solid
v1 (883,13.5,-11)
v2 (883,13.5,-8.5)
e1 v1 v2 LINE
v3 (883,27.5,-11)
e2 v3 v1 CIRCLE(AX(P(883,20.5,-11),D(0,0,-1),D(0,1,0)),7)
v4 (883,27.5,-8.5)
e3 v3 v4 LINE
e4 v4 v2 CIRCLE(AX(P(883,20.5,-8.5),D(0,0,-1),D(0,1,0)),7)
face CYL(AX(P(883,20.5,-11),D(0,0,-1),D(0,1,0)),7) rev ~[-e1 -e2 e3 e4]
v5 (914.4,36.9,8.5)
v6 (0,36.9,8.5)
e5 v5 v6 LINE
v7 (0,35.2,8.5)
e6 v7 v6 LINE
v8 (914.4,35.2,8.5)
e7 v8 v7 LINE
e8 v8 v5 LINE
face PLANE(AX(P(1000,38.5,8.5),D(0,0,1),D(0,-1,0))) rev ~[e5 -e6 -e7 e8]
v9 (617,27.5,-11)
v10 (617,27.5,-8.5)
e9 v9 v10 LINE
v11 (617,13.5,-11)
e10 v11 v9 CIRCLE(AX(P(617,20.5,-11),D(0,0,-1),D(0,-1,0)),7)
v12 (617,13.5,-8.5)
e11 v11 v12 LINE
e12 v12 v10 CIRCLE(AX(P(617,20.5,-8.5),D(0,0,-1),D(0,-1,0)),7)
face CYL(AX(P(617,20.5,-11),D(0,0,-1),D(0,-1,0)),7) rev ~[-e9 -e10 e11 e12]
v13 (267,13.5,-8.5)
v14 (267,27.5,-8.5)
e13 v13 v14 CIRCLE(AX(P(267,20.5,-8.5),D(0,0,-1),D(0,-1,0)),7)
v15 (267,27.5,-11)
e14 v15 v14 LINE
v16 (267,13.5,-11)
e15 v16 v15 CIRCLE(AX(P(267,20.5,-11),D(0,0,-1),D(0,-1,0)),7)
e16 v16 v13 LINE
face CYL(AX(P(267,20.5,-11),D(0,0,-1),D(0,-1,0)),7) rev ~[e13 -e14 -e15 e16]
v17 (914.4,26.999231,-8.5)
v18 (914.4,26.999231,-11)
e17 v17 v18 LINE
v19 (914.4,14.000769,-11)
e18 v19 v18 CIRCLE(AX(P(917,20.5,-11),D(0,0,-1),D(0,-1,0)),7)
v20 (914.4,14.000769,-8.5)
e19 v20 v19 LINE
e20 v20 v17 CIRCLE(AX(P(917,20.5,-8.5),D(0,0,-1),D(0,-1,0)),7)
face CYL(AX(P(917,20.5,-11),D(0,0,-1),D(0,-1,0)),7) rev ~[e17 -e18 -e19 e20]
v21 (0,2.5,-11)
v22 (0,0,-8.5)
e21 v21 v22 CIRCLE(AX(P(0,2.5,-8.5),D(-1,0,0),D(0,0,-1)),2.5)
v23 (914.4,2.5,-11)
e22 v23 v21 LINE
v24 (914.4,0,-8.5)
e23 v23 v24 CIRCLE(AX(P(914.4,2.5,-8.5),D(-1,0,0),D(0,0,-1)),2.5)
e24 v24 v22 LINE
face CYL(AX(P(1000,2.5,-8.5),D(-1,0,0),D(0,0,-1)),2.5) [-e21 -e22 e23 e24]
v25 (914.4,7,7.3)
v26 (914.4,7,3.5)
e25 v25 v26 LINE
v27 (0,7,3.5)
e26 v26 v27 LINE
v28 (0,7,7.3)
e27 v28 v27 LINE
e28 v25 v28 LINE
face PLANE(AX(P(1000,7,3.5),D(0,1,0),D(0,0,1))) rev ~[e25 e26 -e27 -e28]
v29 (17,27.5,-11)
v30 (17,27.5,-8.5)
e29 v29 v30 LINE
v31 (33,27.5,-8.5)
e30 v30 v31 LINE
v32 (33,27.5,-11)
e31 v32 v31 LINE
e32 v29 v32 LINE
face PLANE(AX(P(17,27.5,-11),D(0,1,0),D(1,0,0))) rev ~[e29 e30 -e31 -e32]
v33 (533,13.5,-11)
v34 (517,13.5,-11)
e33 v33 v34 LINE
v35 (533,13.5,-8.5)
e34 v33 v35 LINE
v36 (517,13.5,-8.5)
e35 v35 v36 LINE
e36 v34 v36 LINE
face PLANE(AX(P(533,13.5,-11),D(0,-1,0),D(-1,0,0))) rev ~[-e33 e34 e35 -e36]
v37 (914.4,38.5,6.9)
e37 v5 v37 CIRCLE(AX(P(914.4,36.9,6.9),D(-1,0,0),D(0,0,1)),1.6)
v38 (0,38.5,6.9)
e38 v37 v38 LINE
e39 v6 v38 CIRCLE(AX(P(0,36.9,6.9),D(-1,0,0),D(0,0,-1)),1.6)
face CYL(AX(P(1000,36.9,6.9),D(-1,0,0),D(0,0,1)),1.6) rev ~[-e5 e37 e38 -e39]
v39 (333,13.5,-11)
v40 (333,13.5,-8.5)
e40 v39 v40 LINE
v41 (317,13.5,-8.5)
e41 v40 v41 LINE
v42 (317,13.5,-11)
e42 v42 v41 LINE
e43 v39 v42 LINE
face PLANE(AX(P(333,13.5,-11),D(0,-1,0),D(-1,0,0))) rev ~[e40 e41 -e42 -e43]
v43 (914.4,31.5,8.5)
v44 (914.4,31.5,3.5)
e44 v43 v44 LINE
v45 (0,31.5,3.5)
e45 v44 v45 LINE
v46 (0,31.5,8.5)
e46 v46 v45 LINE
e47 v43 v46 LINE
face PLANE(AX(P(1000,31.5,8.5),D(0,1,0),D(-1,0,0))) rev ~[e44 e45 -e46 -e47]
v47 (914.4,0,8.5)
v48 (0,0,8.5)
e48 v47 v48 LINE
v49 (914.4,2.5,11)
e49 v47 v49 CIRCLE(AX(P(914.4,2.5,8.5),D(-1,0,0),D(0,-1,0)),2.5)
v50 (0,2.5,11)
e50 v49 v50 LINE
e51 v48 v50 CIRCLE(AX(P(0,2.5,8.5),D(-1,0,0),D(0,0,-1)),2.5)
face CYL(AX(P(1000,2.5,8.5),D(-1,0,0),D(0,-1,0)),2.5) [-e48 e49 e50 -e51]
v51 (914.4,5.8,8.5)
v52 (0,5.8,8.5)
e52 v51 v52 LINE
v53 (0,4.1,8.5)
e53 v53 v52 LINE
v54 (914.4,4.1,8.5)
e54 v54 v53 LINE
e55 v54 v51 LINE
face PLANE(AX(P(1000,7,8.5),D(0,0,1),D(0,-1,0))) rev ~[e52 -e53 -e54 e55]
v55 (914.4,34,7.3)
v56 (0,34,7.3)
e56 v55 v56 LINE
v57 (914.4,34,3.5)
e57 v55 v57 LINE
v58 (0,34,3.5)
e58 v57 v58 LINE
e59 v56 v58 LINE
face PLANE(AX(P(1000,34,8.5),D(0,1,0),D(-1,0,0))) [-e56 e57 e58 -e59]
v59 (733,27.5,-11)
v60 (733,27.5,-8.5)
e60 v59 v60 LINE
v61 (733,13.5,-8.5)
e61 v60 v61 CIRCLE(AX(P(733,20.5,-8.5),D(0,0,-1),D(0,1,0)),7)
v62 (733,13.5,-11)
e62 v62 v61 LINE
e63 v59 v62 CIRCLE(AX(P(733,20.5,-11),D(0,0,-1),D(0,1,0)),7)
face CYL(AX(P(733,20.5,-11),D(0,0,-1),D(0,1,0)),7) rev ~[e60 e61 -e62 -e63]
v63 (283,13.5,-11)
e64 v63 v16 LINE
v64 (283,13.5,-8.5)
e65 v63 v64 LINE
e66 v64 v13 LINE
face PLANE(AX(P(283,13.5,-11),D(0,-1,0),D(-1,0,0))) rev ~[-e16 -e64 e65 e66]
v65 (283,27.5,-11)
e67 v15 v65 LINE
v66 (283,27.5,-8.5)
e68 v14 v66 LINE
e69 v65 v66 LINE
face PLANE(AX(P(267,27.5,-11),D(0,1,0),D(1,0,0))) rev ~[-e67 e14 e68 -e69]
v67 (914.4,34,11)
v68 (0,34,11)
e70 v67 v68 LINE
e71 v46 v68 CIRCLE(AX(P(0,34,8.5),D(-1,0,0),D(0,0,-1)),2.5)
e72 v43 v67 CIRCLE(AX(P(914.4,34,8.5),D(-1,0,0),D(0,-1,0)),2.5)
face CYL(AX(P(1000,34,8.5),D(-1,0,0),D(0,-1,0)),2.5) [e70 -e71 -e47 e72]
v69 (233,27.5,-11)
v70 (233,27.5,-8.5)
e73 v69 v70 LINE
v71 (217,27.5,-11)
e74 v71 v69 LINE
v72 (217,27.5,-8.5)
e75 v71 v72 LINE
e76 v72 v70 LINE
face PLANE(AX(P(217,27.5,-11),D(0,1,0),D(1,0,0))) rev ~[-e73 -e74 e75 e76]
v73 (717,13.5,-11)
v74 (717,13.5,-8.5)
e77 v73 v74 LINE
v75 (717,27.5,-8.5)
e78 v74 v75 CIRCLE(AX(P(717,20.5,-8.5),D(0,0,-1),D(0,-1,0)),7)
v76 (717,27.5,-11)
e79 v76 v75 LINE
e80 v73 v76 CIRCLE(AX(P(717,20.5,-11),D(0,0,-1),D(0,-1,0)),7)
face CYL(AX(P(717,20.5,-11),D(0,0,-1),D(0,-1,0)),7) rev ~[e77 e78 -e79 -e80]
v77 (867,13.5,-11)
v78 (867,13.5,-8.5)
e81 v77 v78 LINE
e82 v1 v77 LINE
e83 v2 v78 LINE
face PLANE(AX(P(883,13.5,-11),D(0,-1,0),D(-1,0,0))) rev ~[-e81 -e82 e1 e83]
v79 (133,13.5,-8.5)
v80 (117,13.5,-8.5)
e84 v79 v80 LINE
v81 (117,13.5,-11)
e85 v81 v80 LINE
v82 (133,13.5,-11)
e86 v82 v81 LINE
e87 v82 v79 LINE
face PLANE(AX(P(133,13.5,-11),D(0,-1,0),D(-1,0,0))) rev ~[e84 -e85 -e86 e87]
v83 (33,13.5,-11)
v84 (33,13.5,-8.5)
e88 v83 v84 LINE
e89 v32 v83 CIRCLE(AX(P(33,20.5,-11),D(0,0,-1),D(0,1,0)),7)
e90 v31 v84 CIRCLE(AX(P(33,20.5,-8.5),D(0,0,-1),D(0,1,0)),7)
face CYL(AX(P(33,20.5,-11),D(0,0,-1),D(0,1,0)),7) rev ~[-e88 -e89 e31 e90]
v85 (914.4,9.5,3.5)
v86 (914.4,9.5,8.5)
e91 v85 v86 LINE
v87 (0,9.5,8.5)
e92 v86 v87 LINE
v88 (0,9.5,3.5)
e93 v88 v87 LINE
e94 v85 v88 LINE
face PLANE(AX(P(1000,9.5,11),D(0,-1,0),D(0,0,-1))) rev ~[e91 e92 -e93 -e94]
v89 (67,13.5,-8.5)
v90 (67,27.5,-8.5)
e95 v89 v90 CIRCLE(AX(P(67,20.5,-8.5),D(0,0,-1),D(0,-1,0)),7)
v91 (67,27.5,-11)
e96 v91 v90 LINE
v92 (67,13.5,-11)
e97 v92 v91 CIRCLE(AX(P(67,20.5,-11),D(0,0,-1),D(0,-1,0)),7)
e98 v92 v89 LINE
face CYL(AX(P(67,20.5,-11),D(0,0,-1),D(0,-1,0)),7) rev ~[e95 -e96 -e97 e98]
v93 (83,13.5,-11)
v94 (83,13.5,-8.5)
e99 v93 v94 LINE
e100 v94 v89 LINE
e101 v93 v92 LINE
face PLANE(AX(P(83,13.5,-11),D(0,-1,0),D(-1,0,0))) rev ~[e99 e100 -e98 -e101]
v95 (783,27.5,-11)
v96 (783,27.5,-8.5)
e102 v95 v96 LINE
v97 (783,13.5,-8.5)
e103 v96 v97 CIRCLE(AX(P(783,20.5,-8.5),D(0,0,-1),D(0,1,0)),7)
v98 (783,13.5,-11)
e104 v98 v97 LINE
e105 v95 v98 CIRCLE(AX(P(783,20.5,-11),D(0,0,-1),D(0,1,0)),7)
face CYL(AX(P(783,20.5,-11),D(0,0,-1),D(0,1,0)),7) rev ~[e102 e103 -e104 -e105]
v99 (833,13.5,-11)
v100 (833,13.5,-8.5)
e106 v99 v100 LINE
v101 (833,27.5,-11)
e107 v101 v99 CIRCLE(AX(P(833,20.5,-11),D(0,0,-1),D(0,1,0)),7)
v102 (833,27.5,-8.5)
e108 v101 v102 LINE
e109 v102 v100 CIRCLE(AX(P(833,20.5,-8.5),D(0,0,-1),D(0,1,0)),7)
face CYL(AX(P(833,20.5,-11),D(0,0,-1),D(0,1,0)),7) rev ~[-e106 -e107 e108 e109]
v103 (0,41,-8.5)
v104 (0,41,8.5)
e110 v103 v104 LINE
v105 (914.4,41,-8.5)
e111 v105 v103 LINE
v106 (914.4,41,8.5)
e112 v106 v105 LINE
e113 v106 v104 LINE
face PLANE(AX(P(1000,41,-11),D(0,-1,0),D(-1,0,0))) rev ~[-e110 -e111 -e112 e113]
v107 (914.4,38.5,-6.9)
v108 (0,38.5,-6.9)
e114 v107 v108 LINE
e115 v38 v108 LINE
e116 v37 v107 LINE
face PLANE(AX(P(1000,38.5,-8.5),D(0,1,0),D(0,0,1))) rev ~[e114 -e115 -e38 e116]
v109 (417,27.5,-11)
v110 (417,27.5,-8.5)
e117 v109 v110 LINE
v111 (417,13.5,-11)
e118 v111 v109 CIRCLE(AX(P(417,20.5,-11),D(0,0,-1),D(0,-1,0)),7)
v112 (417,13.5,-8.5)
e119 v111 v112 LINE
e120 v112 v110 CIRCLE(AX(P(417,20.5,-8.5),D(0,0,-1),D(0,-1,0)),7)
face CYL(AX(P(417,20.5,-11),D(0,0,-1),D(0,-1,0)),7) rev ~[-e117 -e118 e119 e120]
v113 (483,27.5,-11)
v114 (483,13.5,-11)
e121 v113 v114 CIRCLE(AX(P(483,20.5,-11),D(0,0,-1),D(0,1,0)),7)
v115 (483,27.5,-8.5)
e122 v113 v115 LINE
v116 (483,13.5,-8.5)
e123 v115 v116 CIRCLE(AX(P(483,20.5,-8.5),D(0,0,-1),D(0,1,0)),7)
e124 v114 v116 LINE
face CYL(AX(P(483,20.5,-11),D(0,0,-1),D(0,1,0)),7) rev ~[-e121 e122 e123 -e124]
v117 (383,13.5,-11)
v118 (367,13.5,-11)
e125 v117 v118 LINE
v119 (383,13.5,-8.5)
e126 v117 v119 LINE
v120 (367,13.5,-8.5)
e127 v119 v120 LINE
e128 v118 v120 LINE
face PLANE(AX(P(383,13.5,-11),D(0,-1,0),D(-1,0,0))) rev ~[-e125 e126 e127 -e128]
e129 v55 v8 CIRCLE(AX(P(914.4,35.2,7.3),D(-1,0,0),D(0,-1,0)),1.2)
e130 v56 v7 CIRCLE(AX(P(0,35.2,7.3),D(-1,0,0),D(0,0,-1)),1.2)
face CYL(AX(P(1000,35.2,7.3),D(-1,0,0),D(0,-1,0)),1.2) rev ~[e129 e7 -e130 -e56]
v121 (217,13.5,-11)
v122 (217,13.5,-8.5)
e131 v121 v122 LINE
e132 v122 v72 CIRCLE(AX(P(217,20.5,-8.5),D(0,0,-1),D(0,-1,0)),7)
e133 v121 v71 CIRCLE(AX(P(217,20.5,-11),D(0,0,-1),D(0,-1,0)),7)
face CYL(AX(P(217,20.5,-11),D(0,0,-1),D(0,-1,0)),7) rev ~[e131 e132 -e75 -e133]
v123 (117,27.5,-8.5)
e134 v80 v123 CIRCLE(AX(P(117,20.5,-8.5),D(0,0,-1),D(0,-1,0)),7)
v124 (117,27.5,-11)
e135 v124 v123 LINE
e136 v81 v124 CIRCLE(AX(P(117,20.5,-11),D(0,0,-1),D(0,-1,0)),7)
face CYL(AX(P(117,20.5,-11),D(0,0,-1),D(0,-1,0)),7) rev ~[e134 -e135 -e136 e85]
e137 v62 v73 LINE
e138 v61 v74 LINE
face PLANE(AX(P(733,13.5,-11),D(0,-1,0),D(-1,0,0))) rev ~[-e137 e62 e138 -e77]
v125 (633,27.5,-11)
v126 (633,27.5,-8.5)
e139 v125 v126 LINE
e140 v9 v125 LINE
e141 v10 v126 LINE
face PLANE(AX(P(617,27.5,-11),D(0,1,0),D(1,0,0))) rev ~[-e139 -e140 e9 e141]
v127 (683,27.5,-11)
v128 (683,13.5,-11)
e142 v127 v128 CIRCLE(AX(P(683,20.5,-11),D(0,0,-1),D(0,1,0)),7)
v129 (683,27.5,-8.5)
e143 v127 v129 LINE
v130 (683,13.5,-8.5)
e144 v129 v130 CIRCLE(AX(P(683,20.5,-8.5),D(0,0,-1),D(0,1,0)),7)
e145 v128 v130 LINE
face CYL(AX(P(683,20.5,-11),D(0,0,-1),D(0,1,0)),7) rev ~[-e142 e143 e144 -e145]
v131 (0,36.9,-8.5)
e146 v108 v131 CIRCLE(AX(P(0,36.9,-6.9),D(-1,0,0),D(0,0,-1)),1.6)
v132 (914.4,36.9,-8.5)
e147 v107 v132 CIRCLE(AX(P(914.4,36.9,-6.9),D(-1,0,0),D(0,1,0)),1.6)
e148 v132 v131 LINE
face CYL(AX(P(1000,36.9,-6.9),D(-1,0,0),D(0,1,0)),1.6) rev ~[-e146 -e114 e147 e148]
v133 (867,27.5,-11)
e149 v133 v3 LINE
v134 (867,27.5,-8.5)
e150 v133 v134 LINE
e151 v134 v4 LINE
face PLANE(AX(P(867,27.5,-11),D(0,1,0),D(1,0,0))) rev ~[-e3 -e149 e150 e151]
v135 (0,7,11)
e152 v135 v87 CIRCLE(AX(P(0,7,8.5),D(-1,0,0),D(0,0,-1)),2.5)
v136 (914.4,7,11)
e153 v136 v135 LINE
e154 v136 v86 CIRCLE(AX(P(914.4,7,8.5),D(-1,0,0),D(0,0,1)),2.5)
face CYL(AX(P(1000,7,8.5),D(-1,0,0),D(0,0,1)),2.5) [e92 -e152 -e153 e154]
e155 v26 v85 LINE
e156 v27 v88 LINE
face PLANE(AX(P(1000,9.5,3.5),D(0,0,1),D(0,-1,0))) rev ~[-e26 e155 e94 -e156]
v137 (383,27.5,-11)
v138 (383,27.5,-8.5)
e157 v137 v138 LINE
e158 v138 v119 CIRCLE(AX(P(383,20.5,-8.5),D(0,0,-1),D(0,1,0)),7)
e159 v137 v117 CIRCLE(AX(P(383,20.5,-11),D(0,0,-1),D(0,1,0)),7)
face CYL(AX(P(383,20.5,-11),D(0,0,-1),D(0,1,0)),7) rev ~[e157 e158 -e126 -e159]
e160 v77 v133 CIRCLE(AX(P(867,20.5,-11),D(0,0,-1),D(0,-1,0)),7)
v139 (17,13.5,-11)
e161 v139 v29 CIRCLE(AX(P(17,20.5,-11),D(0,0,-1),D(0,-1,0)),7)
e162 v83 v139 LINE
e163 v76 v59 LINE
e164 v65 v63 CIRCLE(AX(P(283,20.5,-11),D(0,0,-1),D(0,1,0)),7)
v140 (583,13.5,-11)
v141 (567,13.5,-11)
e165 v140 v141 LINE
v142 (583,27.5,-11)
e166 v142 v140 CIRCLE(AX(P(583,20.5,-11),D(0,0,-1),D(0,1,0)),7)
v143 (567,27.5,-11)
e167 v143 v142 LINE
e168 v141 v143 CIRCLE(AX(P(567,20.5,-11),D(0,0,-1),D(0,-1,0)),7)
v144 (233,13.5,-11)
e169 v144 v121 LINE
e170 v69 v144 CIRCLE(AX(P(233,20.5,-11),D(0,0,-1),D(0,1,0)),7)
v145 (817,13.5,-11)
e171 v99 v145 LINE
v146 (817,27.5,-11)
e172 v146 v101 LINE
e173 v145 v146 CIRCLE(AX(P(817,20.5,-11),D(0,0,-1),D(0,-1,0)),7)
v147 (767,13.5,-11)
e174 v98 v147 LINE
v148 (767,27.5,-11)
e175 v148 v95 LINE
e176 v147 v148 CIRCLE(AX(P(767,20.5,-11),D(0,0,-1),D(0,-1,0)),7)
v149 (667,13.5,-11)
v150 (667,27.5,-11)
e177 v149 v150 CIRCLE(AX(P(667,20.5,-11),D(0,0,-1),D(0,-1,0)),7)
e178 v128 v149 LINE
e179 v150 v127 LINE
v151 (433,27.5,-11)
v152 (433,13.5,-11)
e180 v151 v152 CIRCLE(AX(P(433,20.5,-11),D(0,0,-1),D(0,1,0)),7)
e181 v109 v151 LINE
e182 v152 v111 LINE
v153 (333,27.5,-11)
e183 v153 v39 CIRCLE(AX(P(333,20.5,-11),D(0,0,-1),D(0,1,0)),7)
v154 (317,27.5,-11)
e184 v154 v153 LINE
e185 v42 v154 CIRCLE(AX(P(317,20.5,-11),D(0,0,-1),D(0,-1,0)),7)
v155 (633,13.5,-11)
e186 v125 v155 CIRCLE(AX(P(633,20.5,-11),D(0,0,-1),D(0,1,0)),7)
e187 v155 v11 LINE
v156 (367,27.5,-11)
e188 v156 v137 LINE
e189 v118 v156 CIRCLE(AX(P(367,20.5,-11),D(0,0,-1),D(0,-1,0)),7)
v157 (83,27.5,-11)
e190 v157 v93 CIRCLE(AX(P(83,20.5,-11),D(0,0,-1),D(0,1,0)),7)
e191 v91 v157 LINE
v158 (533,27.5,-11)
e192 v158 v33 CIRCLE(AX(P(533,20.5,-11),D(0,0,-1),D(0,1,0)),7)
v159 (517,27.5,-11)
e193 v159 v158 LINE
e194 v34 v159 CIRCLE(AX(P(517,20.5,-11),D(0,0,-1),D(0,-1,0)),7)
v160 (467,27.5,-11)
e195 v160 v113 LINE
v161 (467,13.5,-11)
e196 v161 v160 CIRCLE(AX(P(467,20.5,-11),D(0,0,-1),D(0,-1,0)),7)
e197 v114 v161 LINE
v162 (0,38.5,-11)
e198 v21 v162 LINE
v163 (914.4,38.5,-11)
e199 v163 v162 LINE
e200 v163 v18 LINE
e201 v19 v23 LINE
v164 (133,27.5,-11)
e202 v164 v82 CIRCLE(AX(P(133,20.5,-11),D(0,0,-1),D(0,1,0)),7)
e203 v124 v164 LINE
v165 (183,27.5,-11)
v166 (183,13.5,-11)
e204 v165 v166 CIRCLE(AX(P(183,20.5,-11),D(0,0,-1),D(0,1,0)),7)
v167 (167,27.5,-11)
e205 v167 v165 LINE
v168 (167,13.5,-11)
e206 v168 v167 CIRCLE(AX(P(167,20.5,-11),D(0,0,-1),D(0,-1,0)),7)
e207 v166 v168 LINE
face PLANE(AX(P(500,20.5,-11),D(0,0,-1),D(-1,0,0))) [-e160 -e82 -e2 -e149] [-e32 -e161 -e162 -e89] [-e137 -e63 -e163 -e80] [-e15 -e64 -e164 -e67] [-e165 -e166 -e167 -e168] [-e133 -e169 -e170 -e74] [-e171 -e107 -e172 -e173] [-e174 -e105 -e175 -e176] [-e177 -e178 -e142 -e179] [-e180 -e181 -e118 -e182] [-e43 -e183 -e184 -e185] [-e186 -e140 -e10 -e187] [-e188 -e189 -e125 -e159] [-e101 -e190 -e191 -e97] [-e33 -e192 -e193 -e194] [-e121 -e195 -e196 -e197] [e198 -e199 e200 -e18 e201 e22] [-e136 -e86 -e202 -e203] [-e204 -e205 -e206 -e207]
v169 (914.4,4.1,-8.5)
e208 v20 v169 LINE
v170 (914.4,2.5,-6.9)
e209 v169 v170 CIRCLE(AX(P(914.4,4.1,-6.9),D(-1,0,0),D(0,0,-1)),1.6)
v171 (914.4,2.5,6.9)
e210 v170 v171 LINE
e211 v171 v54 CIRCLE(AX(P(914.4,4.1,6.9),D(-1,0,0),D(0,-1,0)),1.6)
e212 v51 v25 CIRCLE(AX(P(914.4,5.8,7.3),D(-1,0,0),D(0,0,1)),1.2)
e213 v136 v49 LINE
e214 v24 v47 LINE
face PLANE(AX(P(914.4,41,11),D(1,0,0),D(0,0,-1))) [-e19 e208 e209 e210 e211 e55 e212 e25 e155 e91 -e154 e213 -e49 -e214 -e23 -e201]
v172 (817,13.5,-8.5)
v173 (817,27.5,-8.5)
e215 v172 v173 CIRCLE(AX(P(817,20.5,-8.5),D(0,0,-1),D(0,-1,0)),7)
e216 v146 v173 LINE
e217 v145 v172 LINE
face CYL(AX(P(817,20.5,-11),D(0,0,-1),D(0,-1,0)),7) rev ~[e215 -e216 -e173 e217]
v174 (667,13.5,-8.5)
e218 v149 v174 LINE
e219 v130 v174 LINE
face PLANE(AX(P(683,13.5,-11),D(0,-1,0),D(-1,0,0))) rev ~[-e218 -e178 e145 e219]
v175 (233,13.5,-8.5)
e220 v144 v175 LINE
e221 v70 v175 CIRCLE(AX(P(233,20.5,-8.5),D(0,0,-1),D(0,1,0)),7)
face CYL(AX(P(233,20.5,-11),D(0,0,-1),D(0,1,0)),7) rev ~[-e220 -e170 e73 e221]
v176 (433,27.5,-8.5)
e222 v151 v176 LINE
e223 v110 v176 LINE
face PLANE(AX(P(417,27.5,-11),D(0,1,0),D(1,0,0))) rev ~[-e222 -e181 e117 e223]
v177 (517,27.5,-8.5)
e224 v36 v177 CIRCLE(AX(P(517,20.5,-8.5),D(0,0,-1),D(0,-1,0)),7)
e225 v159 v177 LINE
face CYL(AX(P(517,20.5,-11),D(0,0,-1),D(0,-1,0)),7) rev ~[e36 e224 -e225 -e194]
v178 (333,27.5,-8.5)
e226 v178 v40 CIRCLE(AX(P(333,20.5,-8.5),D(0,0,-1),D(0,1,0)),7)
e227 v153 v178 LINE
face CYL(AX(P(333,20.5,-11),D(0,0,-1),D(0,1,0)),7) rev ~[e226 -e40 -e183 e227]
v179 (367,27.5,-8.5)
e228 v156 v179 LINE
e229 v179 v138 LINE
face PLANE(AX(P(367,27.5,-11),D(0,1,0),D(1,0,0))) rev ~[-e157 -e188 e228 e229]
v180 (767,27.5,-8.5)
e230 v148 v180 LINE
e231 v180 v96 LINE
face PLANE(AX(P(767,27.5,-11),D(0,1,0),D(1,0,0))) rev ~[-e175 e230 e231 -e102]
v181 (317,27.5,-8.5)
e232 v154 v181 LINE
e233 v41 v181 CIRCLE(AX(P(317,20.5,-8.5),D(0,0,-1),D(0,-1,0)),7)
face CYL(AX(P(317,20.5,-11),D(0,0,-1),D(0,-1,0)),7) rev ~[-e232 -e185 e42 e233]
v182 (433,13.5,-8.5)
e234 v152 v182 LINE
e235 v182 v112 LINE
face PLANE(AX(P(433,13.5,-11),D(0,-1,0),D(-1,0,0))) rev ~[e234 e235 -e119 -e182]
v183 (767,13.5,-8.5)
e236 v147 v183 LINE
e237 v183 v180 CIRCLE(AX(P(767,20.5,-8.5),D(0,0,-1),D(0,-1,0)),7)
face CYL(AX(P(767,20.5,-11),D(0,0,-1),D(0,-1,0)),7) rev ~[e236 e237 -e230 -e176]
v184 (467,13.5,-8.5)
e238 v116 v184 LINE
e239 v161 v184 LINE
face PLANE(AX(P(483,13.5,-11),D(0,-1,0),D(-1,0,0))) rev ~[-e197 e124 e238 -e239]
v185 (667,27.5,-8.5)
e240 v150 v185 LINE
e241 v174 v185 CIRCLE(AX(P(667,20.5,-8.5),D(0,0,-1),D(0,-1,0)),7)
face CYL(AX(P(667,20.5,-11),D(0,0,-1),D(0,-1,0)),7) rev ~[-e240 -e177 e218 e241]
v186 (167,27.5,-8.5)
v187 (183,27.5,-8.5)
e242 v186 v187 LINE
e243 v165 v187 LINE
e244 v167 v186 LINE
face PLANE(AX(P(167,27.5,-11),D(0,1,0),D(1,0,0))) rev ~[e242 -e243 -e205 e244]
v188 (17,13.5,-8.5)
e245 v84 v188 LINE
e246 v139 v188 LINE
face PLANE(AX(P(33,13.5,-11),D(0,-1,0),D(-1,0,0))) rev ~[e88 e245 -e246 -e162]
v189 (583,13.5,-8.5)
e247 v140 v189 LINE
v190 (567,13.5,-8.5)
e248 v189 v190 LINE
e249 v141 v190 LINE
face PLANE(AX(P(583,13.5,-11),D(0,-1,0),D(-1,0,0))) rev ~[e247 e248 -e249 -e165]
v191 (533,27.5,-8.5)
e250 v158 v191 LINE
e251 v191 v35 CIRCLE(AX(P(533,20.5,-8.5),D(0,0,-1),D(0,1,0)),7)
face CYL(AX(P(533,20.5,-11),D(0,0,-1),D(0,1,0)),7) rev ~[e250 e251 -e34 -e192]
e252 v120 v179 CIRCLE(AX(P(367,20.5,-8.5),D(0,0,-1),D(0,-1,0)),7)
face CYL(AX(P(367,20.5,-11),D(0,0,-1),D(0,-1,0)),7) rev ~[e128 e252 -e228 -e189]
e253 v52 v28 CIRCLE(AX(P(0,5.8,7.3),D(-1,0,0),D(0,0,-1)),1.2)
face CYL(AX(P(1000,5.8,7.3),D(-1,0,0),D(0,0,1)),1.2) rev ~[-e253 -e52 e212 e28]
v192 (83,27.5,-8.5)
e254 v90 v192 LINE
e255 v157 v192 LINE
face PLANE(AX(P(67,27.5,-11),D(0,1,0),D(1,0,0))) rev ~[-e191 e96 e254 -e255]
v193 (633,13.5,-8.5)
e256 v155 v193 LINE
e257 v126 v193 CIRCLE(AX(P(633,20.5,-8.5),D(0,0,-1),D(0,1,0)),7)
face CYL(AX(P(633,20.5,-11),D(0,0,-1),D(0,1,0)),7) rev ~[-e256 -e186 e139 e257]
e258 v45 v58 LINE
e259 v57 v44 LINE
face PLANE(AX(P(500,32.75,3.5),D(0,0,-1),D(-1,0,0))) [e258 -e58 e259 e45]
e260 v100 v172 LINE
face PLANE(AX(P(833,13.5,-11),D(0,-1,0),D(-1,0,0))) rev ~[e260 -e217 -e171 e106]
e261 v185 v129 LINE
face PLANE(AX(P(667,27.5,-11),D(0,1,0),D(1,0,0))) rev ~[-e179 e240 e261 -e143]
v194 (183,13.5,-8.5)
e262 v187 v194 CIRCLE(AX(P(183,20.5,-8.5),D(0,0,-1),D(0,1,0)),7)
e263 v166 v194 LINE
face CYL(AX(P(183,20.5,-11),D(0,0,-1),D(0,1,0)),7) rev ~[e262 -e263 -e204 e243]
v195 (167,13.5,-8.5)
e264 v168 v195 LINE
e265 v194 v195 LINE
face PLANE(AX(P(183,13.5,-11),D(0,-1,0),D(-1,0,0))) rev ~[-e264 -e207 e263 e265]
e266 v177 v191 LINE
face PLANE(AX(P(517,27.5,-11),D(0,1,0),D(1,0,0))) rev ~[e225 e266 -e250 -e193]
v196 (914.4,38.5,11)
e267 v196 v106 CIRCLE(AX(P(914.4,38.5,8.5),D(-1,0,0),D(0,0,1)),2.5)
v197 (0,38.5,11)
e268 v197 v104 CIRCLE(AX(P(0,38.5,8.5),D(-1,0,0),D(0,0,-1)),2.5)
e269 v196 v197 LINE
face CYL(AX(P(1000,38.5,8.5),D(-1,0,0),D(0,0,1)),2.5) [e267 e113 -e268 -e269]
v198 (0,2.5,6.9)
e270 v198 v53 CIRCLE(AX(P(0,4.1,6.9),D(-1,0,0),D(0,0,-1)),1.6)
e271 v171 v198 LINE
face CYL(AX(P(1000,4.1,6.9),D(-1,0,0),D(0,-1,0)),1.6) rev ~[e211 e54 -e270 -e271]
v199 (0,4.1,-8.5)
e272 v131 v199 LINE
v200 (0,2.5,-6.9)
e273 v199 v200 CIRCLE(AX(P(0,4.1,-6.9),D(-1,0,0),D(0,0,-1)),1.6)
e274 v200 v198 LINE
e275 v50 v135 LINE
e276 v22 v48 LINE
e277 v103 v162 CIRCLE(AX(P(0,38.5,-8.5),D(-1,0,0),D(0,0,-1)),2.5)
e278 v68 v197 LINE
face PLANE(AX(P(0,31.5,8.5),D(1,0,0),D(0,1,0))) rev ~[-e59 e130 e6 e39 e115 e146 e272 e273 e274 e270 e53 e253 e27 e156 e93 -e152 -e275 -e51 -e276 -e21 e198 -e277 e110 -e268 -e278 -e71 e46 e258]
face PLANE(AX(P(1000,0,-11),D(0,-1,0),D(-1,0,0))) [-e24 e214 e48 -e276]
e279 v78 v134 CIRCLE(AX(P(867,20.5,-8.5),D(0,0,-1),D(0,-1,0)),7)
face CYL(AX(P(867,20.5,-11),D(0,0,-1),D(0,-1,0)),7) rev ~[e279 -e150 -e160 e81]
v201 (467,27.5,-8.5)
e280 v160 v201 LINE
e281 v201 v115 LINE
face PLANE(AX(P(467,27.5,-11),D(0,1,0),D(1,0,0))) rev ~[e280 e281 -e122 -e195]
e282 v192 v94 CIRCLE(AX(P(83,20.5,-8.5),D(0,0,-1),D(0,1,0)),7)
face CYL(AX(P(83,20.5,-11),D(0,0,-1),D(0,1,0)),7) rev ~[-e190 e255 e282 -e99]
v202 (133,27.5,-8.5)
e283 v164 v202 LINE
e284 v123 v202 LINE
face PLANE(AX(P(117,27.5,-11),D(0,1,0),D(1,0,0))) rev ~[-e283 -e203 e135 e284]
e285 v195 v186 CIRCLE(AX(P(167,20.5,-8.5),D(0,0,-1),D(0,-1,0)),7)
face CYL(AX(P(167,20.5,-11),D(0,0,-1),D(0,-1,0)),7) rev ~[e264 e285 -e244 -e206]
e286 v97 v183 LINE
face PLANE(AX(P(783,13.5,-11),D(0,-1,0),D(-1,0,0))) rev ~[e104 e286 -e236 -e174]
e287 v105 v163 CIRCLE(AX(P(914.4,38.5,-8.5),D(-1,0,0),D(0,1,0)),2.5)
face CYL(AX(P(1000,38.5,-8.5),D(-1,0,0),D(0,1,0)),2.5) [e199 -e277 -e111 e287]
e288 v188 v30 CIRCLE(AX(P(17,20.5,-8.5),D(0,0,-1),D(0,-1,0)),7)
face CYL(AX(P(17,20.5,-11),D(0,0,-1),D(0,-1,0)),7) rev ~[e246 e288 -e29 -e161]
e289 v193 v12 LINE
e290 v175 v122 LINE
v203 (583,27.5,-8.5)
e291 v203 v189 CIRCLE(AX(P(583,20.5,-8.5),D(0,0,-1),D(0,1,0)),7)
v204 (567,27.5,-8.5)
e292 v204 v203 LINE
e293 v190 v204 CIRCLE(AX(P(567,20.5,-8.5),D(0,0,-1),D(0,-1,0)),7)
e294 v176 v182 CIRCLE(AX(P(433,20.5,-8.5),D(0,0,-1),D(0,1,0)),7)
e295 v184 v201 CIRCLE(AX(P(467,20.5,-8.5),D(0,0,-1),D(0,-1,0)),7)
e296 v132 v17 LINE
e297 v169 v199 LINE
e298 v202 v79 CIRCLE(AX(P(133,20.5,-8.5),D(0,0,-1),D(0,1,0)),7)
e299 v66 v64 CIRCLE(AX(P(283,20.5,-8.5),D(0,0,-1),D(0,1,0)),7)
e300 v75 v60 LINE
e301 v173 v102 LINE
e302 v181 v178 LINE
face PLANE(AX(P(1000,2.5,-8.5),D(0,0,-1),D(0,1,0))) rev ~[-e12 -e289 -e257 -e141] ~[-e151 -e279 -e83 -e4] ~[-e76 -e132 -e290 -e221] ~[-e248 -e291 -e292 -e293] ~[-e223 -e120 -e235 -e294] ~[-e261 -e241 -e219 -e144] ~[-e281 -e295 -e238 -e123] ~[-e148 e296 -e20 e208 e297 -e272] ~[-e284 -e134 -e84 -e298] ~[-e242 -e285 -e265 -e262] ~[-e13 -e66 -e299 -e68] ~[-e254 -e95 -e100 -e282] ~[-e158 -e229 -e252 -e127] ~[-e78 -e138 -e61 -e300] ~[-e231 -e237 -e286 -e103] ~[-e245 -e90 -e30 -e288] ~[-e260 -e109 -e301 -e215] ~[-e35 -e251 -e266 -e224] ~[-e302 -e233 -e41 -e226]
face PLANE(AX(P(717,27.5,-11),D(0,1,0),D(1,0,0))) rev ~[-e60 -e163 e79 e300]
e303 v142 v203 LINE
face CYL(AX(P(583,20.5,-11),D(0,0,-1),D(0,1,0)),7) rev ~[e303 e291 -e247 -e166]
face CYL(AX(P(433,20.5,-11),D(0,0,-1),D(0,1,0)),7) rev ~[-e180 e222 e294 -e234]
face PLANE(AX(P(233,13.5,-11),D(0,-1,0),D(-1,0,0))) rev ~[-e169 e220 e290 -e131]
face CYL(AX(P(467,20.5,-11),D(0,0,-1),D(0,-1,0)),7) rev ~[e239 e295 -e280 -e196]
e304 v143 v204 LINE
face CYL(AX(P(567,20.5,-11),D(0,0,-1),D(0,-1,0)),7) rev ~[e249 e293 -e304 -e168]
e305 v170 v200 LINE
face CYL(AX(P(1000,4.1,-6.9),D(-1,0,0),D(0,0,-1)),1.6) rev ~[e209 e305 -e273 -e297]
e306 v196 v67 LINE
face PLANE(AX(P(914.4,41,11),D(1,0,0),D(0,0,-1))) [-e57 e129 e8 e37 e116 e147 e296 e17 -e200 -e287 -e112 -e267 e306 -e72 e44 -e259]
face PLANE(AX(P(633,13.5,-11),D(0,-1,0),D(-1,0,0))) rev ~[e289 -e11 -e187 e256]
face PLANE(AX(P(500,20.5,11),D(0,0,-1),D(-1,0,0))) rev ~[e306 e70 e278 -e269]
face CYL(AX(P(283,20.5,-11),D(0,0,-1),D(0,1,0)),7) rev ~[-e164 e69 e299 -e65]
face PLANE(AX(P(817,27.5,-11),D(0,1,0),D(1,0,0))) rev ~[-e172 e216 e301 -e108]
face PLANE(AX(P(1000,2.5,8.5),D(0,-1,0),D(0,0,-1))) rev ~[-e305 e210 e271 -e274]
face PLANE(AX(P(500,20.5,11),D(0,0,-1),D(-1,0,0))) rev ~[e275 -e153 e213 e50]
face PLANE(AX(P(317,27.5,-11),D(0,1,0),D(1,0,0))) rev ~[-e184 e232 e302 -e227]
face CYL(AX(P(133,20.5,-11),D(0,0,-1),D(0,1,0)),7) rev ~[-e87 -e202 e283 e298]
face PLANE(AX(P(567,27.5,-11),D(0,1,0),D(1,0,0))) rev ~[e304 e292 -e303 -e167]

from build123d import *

# Parameters (mm, degrees)
SKETCH1_W           = 1000
SKETCH1_H           = 41
BOSS_EXTRUDE1_DEPTH = 22
CUT_EXTRUDE1_DEPTH  = 1001.900594465
SKETCH3_W           = 1000
SKETCH3_H           = 2.5
BOSS_EXTRUDE2_DEPTH = 5
CUT_EXTRUDE2_DEPTH  = 1002.08191473
CUT_EXTRUDE3_DEPTH  = 1002.08191473
CUT_EXTRUDE4_DEPTH  = 1002.08191473
CUT_EXTRUDE5_DEPTH  = 1002.08191473
CUT_EXTRUDE6_DEPTH  = 1002.08191473
CUT_EXTRUDE7_DEPTH  = 1002.08191473
CUT_EXTRUDE8_DEPTH  = 1002.08191473
CUT_EXTRUDE9_DEPTH  = 1002.08191473
CUT_EXTRUDE10_DEPTH = 1002.08191473
CUT_EXTRUDE11_DEPTH = 1002.08191473
CUT_EXTRUDE12_DEPTH = 1002.08191473
CUT_EXTRUDE13_DEPTH = 1002.08191473
CUT_EXTRUDE14_DEPTH = 1002.08191473
CUT_EXTRUDE15_DEPTH = 1002.08191473
CUT_EXTRUDE16_DEPTH = 1002.08191473
CUT_EXTRUDE17_DEPTH = 1002.08191473
CUT_EXTRUDE18_DEPTH = 1002.08191473
CUT_EXTRUDE19_DEPTH = 1002.08191473
CUT_EXTRUDE20_DEPTH = 1002.08191473
CUT_EXTRUDE21_DEPTH = 1002.08191473
FILLET1_R           = 1.2
FILLET2_R           = 1.6
FILLET3_R           = 2.5
SKETCH24_W          = 85.6
SKETCH24_H          = 22
CUT_EXTRUDE22_DEPTH = 1001.900594465


with BuildPart() as part:
    # Sketch1 → Boss-Extrude1 (new body)
    with BuildSketch(Plane(origin=(0, 0, -11), x_dir=(-1, 0, 0), z_dir=(0, 0, -1))):
        with Locations((-500, 20.5)):
            Rectangle(SKETCH1_W, SKETCH1_H)
    extrude(amount=-BOSS_EXTRUDE1_DEPTH)

    # Sketch2 → Cut-Extrude1 (cut, through all)
    with BuildSketch(Plane(origin=(1000, 0, 0), x_dir=(0, 0, -1), z_dir=(1, 0, 0))):
        Polygon((-11, 9.5), (-3.5, 9.5), (-3.5, 7), (-8.5, 7), (-8.5, 2.5), (8.5, 2.5), (8.5, 38.5), (-8.5, 38.5), (-8.5, 31.5), (-11, 31.5), align=None)
    extrude(amount=-CUT_EXTRUDE1_DEPTH, mode=Mode.SUBTRACT)

    # Sketch3 → Boss-Extrude2 (add)
    with BuildSketch(Plane(origin=(0, 0, 8.5), x_dir=(-1, 0, 0), z_dir=(0, 0, -1))):
        with Locations((-500, 32.75)):
            Rectangle(SKETCH3_W, SKETCH3_H)
    extrude(amount=BOSS_EXTRUDE2_DEPTH)

    # Sketch4 → Cut-Extrude2 (cut, through all)
    with BuildSketch(Plane(origin=(0, 0, -11), x_dir=(-1, 0, 0), z_dir=(0, 0, -1))):
        with BuildLine():
            Line((-117, 27.5), (-133, 27.5))
            ThreePointArc((-133, 27.5), (-140, 20.5), (-133, 13.5))
            Line((-133, 13.5), (-117, 13.5))
            ThreePointArc((-117, 13.5), (-110, 20.5), (-117, 27.5))
        make_face()
    extrude(amount=-CUT_EXTRUDE2_DEPTH, mode=Mode.SUBTRACT)

    # Sketch5 → Cut-Extrude3 (cut, through all)
    with BuildSketch(Plane(origin=(0, 0, -11), x_dir=(-1, 0, 0), z_dir=(0, 0, -1))):
        with BuildLine():
            Line((-217, 27.5), (-233, 27.5))
            ThreePointArc((-233, 27.5), (-240, 20.5), (-233, 13.5))
            Line((-233, 13.5), (-217, 13.5))
            ThreePointArc((-217, 13.5), (-210, 20.5), (-217, 27.5))
        make_face()
    extrude(amount=-CUT_EXTRUDE3_DEPTH, mode=Mode.SUBTRACT)

    # Sketch6 → Cut-Extrude4 (cut, through all)
    with BuildSketch(Plane(origin=(0, 0, -11), x_dir=(-1, 0, 0), z_dir=(0, 0, -1))):
        with BuildLine():
            Line((-317, 27.5), (-333, 27.5))
            ThreePointArc((-333, 27.5), (-340, 20.5), (-333, 13.5))
            Line((-333, 13.5), (-317, 13.5))
            ThreePointArc((-317, 13.5), (-310, 20.5), (-317, 27.5))
        make_face()
    extrude(amount=-CUT_EXTRUDE4_DEPTH, mode=Mode.SUBTRACT)

    # Sketch7 → Cut-Extrude5 (cut, through all)
    with BuildSketch(Plane(origin=(0, 0, -11), x_dir=(-1, 0, 0), z_dir=(0, 0, -1))):
        with BuildLine():
            Line((-417, 27.5), (-433, 27.5))
            ThreePointArc((-433, 27.5), (-440, 20.5), (-433, 13.5))
            Line((-433, 13.5), (-417, 13.5))
            ThreePointArc((-417, 13.5), (-410, 20.5), (-417, 27.5))
        make_face()
    extrude(amount=-CUT_EXTRUDE5_DEPTH, mode=Mode.SUBTRACT)

    # Sketch8 → Cut-Extrude6 (cut, through all)
    with BuildSketch(Plane(origin=(0, 0, -11), x_dir=(-1, 0, 0), z_dir=(0, 0, -1))):
        with BuildLine():
            Line((-517, 27.5), (-533, 27.5))
            ThreePointArc((-533, 27.5), (-540, 20.5), (-533, 13.5))
            Line((-533, 13.5), (-517, 13.5))
            ThreePointArc((-517, 13.5), (-510, 20.5), (-517, 27.5))
        make_face()
    extrude(amount=-CUT_EXTRUDE6_DEPTH, mode=Mode.SUBTRACT)

    # Sketch9 → Cut-Extrude7 (cut, through all)
    with BuildSketch(Plane(origin=(0, 0, -11), x_dir=(-1, 0, 0), z_dir=(0, 0, -1))):
        with BuildLine():
            Line((-617, 27.5), (-633, 27.5))
            ThreePointArc((-633, 27.5), (-640, 20.5), (-633, 13.5))
            Line((-633, 13.5), (-617, 13.5))
            ThreePointArc((-617, 13.5), (-610, 20.5), (-617, 27.5))
        make_face()
    extrude(amount=-CUT_EXTRUDE7_DEPTH, mode=Mode.SUBTRACT)

    # Sketch10 → Cut-Extrude8 (cut, through all)
    with BuildSketch(Plane(origin=(0, 0, -11), x_dir=(-1, 0, 0), z_dir=(0, 0, -1))):
        with BuildLine():
            Line((-717, 27.5), (-733, 27.5))
            ThreePointArc((-733, 27.5), (-740, 20.5), (-733, 13.5))
            Line((-733, 13.5), (-717, 13.5))
            ThreePointArc((-717, 13.5), (-710, 20.5), (-717, 27.5))
        make_face()
    extrude(amount=-CUT_EXTRUDE8_DEPTH, mode=Mode.SUBTRACT)

    # Sketch11 → Cut-Extrude9 (cut, through all)
    with BuildSketch(Plane(origin=(0, 0, -11), x_dir=(-1, 0, 0), z_dir=(0, 0, -1))):
        with BuildLine():
            Line((-817, 27.5), (-833, 27.5))
            ThreePointArc((-833, 27.5), (-840, 20.5), (-833, 13.5))
            Line((-833, 13.5), (-817, 13.5))
            ThreePointArc((-817, 13.5), (-810, 20.5), (-817, 27.5))
        make_face()
    extrude(amount=-CUT_EXTRUDE9_DEPTH, mode=Mode.SUBTRACT)

    # Sketch12 → Cut-Extrude10 (cut, through all)
    with BuildSketch(Plane(origin=(0, 0, -11), x_dir=(-1, 0, 0), z_dir=(0, 0, -1))):
        with BuildLine():
            Line((-917, 27.5), (-933, 27.5))
            ThreePointArc((-933, 27.5), (-940, 20.5), (-933, 13.5))
            Line((-933, 13.5), (-917, 13.5))
            ThreePointArc((-917, 13.5), (-910, 20.5), (-917, 27.5))
        make_face()
    extrude(amount=-CUT_EXTRUDE10_DEPTH, mode=Mode.SUBTRACT)

    # Sketch13 → Cut-Extrude11 (cut, through all)
    with BuildSketch(Plane(origin=(0, 0, -11), x_dir=(-1, 0, 0), z_dir=(0, 0, -1))):
        with BuildLine():
            Line((-17, 27.5), (-33, 27.5))
            ThreePointArc((-33, 27.5), (-40, 20.5), (-33, 13.5))
            Line((-33, 13.5), (-17, 13.5))
            ThreePointArc((-17, 13.5), (-10, 20.5), (-17, 27.5))
        make_face()
    extrude(amount=-CUT_EXTRUDE11_DEPTH, mode=Mode.SUBTRACT)

    # Sketch14 → Cut-Extrude12 (cut, through all)
    with BuildSketch(Plane(origin=(0, 0, -11), x_dir=(-1, 0, 0), z_dir=(0, 0, -1))):
        with BuildLine():
            Line((-967, 27.5), (-983, 27.5))
            ThreePointArc((-983, 27.5), (-990, 20.5), (-983, 13.5))
            Line((-983, 13.5), (-967, 13.5))
            ThreePointArc((-967, 13.5), (-960, 20.5), (-967, 27.5))
        make_face()
    extrude(amount=-CUT_EXTRUDE12_DEPTH, mode=Mode.SUBTRACT)

    # Sketch15 → Cut-Extrude13 (cut, through all)
    with BuildSketch(Plane(origin=(0, 0, -11), x_dir=(-1, 0, 0), z_dir=(0, 0, -1))):
        with BuildLine():
            Line((-867, 27.5), (-883, 27.5))
            ThreePointArc((-883, 27.5), (-890, 20.5), (-883, 13.5))
            Line((-883, 13.5), (-867, 13.5))
            ThreePointArc((-867, 13.5), (-860, 20.5), (-867, 27.5))
        make_face()
    extrude(amount=-CUT_EXTRUDE13_DEPTH, mode=Mode.SUBTRACT)

    # Sketch16 → Cut-Extrude14 (cut, through all)
    with BuildSketch(Plane(origin=(0, 0, -11), x_dir=(-1, 0, 0), z_dir=(0, 0, -1))):
        with BuildLine():
            Line((-767, 27.5), (-783, 27.5))
            ThreePointArc((-783, 27.5), (-790, 20.5), (-783, 13.5))
            Line((-783, 13.5), (-767, 13.5))
            ThreePointArc((-767, 13.5), (-760, 20.5), (-767, 27.5))
        make_face()
    extrude(amount=-CUT_EXTRUDE14_DEPTH, mode=Mode.SUBTRACT)

    # Sketch17 → Cut-Extrude15 (cut, through all)
    with BuildSketch(Plane(origin=(0, 0, -11), x_dir=(-1, 0, 0), z_dir=(0, 0, -1))):
        with BuildLine():
            Line((-667, 27.5), (-683, 27.5))
            ThreePointArc((-683, 27.5), (-690, 20.5), (-683, 13.5))
            Line((-683, 13.5), (-667, 13.5))
            ThreePointArc((-667, 13.5), (-660, 20.5), (-667, 27.5))
        make_face()
    extrude(amount=-CUT_EXTRUDE15_DEPTH, mode=Mode.SUBTRACT)

    # Sketch18 → Cut-Extrude16 (cut, through all)
    with BuildSketch(Plane(origin=(0, 0, -11), x_dir=(-1, 0, 0), z_dir=(0, 0, -1))):
        with BuildLine():
            Line((-567, 27.5), (-583, 27.5))
            ThreePointArc((-583, 27.5), (-590, 20.5), (-583, 13.5))
            Line((-583, 13.5), (-567, 13.5))
            ThreePointArc((-567, 13.5), (-560, 20.5), (-567, 27.5))
        make_face()
    extrude(amount=-CUT_EXTRUDE16_DEPTH, mode=Mode.SUBTRACT)

    # Sketch19 → Cut-Extrude17 (cut, through all)
    with BuildSketch(Plane(origin=(0, 0, -11), x_dir=(-1, 0, 0), z_dir=(0, 0, -1))):
        with BuildLine():
            Line((-467, 27.5), (-483, 27.5))
            ThreePointArc((-483, 27.5), (-490, 20.5), (-483, 13.5))
            Line((-483, 13.5), (-467, 13.5))
            ThreePointArc((-467, 13.5), (-460, 20.5), (-467, 27.5))
        make_face()
    extrude(amount=-CUT_EXTRUDE17_DEPTH, mode=Mode.SUBTRACT)

    # Sketch20 → Cut-Extrude18 (cut, through all)
    with BuildSketch(Plane(origin=(0, 0, -11), x_dir=(-1, 0, 0), z_dir=(0, 0, -1))):
        with BuildLine():
            Line((-367, 27.5), (-383, 27.5))
            ThreePointArc((-383, 27.5), (-390, 20.5), (-383, 13.5))
            Line((-383, 13.5), (-367, 13.5))
            ThreePointArc((-367, 13.5), (-360, 20.5), (-367, 27.5))
        make_face()
    extrude(amount=-CUT_EXTRUDE18_DEPTH, mode=Mode.SUBTRACT)

    # Sketch21 → Cut-Extrude19 (cut, through all)
    with BuildSketch(Plane(origin=(0, 0, -11), x_dir=(-1, 0, 0), z_dir=(0, 0, -1))):
        with BuildLine():
            Line((-267, 27.5), (-283, 27.5))
            ThreePointArc((-283, 27.5), (-290, 20.5), (-283, 13.5))
            Line((-283, 13.5), (-267, 13.5))
            ThreePointArc((-267, 13.5), (-260, 20.5), (-267, 27.5))
        make_face()
    extrude(amount=-CUT_EXTRUDE19_DEPTH, mode=Mode.SUBTRACT)

    # Sketch22 → Cut-Extrude20 (cut, through all)
    with BuildSketch(Plane(origin=(0, 0, -11), x_dir=(-1, 0, 0), z_dir=(0, 0, -1))):
        with BuildLine():
            Line((-167, 27.5), (-183, 27.5))
            ThreePointArc((-183, 27.5), (-190, 20.5), (-183, 13.5))
            Line((-183, 13.5), (-167, 13.5))
            ThreePointArc((-167, 13.5), (-160, 20.5), (-167, 27.5))
        make_face()
    extrude(amount=-CUT_EXTRUDE20_DEPTH, mode=Mode.SUBTRACT)

    # Sketch23 → Cut-Extrude21 (cut, through all)
    with BuildSketch(Plane(origin=(0, 0, -11), x_dir=(-1, 0, 0), z_dir=(0, 0, -1))):
        with BuildLine():
            Line((-67, 27.5), (-83, 27.5))
            ThreePointArc((-83, 27.5), (-90, 20.5), (-83, 13.5))
            Line((-83, 13.5), (-67, 13.5))
            ThreePointArc((-67, 13.5), (-60, 20.5), (-67, 27.5))
        make_face()
    extrude(amount=-CUT_EXTRUDE21_DEPTH, mode=Mode.SUBTRACT)

    # Fillet1
    fillet1_edges = [part.edges().sort_by_distance(p)[0] for p in [
        (500, 7, 8.5),
        (500, 34, 8.5),
    ]]
    fillet(fillet1_edges, radius=FILLET1_R)

    # Fillet2
    fillet2_edges = [part.edges().sort_by_distance(p)[0] for p in [
        (500, 38.5, 8.5),
        (500, 38.5, -8.5),
        (500, 2.5, -8.5),
        (500, 2.5, 8.5),
    ]]
    fillet(fillet2_edges, radius=FILLET2_R)

    # Fillet3
    fillet3_edges = [part.edges().sort_by_distance(p)[0] for p in [
        (500, 41, 11),
        (500, 9.5, 11),
        (500, 31.5, 11),
        (500, 0, 11),
        (500, 41, -11),
        (500, 0, -11),
    ]]
    fillet(fillet3_edges, radius=FILLET3_R)

    # Sketch24 → Cut-Extrude22 (cut, through all)
    with BuildSketch(Plane(origin=(0, 41, 0), x_dir=(1, 0, 0), z_dir=(0, 1, 0))):
        with Locations((957.2, 0)):
            Rectangle(SKETCH24_W, SKETCH24_H)
    extrude(amount=-CUT_EXTRUDE22_DEPTH, mode=Mode.SUBTRACT)


solid = part.part
